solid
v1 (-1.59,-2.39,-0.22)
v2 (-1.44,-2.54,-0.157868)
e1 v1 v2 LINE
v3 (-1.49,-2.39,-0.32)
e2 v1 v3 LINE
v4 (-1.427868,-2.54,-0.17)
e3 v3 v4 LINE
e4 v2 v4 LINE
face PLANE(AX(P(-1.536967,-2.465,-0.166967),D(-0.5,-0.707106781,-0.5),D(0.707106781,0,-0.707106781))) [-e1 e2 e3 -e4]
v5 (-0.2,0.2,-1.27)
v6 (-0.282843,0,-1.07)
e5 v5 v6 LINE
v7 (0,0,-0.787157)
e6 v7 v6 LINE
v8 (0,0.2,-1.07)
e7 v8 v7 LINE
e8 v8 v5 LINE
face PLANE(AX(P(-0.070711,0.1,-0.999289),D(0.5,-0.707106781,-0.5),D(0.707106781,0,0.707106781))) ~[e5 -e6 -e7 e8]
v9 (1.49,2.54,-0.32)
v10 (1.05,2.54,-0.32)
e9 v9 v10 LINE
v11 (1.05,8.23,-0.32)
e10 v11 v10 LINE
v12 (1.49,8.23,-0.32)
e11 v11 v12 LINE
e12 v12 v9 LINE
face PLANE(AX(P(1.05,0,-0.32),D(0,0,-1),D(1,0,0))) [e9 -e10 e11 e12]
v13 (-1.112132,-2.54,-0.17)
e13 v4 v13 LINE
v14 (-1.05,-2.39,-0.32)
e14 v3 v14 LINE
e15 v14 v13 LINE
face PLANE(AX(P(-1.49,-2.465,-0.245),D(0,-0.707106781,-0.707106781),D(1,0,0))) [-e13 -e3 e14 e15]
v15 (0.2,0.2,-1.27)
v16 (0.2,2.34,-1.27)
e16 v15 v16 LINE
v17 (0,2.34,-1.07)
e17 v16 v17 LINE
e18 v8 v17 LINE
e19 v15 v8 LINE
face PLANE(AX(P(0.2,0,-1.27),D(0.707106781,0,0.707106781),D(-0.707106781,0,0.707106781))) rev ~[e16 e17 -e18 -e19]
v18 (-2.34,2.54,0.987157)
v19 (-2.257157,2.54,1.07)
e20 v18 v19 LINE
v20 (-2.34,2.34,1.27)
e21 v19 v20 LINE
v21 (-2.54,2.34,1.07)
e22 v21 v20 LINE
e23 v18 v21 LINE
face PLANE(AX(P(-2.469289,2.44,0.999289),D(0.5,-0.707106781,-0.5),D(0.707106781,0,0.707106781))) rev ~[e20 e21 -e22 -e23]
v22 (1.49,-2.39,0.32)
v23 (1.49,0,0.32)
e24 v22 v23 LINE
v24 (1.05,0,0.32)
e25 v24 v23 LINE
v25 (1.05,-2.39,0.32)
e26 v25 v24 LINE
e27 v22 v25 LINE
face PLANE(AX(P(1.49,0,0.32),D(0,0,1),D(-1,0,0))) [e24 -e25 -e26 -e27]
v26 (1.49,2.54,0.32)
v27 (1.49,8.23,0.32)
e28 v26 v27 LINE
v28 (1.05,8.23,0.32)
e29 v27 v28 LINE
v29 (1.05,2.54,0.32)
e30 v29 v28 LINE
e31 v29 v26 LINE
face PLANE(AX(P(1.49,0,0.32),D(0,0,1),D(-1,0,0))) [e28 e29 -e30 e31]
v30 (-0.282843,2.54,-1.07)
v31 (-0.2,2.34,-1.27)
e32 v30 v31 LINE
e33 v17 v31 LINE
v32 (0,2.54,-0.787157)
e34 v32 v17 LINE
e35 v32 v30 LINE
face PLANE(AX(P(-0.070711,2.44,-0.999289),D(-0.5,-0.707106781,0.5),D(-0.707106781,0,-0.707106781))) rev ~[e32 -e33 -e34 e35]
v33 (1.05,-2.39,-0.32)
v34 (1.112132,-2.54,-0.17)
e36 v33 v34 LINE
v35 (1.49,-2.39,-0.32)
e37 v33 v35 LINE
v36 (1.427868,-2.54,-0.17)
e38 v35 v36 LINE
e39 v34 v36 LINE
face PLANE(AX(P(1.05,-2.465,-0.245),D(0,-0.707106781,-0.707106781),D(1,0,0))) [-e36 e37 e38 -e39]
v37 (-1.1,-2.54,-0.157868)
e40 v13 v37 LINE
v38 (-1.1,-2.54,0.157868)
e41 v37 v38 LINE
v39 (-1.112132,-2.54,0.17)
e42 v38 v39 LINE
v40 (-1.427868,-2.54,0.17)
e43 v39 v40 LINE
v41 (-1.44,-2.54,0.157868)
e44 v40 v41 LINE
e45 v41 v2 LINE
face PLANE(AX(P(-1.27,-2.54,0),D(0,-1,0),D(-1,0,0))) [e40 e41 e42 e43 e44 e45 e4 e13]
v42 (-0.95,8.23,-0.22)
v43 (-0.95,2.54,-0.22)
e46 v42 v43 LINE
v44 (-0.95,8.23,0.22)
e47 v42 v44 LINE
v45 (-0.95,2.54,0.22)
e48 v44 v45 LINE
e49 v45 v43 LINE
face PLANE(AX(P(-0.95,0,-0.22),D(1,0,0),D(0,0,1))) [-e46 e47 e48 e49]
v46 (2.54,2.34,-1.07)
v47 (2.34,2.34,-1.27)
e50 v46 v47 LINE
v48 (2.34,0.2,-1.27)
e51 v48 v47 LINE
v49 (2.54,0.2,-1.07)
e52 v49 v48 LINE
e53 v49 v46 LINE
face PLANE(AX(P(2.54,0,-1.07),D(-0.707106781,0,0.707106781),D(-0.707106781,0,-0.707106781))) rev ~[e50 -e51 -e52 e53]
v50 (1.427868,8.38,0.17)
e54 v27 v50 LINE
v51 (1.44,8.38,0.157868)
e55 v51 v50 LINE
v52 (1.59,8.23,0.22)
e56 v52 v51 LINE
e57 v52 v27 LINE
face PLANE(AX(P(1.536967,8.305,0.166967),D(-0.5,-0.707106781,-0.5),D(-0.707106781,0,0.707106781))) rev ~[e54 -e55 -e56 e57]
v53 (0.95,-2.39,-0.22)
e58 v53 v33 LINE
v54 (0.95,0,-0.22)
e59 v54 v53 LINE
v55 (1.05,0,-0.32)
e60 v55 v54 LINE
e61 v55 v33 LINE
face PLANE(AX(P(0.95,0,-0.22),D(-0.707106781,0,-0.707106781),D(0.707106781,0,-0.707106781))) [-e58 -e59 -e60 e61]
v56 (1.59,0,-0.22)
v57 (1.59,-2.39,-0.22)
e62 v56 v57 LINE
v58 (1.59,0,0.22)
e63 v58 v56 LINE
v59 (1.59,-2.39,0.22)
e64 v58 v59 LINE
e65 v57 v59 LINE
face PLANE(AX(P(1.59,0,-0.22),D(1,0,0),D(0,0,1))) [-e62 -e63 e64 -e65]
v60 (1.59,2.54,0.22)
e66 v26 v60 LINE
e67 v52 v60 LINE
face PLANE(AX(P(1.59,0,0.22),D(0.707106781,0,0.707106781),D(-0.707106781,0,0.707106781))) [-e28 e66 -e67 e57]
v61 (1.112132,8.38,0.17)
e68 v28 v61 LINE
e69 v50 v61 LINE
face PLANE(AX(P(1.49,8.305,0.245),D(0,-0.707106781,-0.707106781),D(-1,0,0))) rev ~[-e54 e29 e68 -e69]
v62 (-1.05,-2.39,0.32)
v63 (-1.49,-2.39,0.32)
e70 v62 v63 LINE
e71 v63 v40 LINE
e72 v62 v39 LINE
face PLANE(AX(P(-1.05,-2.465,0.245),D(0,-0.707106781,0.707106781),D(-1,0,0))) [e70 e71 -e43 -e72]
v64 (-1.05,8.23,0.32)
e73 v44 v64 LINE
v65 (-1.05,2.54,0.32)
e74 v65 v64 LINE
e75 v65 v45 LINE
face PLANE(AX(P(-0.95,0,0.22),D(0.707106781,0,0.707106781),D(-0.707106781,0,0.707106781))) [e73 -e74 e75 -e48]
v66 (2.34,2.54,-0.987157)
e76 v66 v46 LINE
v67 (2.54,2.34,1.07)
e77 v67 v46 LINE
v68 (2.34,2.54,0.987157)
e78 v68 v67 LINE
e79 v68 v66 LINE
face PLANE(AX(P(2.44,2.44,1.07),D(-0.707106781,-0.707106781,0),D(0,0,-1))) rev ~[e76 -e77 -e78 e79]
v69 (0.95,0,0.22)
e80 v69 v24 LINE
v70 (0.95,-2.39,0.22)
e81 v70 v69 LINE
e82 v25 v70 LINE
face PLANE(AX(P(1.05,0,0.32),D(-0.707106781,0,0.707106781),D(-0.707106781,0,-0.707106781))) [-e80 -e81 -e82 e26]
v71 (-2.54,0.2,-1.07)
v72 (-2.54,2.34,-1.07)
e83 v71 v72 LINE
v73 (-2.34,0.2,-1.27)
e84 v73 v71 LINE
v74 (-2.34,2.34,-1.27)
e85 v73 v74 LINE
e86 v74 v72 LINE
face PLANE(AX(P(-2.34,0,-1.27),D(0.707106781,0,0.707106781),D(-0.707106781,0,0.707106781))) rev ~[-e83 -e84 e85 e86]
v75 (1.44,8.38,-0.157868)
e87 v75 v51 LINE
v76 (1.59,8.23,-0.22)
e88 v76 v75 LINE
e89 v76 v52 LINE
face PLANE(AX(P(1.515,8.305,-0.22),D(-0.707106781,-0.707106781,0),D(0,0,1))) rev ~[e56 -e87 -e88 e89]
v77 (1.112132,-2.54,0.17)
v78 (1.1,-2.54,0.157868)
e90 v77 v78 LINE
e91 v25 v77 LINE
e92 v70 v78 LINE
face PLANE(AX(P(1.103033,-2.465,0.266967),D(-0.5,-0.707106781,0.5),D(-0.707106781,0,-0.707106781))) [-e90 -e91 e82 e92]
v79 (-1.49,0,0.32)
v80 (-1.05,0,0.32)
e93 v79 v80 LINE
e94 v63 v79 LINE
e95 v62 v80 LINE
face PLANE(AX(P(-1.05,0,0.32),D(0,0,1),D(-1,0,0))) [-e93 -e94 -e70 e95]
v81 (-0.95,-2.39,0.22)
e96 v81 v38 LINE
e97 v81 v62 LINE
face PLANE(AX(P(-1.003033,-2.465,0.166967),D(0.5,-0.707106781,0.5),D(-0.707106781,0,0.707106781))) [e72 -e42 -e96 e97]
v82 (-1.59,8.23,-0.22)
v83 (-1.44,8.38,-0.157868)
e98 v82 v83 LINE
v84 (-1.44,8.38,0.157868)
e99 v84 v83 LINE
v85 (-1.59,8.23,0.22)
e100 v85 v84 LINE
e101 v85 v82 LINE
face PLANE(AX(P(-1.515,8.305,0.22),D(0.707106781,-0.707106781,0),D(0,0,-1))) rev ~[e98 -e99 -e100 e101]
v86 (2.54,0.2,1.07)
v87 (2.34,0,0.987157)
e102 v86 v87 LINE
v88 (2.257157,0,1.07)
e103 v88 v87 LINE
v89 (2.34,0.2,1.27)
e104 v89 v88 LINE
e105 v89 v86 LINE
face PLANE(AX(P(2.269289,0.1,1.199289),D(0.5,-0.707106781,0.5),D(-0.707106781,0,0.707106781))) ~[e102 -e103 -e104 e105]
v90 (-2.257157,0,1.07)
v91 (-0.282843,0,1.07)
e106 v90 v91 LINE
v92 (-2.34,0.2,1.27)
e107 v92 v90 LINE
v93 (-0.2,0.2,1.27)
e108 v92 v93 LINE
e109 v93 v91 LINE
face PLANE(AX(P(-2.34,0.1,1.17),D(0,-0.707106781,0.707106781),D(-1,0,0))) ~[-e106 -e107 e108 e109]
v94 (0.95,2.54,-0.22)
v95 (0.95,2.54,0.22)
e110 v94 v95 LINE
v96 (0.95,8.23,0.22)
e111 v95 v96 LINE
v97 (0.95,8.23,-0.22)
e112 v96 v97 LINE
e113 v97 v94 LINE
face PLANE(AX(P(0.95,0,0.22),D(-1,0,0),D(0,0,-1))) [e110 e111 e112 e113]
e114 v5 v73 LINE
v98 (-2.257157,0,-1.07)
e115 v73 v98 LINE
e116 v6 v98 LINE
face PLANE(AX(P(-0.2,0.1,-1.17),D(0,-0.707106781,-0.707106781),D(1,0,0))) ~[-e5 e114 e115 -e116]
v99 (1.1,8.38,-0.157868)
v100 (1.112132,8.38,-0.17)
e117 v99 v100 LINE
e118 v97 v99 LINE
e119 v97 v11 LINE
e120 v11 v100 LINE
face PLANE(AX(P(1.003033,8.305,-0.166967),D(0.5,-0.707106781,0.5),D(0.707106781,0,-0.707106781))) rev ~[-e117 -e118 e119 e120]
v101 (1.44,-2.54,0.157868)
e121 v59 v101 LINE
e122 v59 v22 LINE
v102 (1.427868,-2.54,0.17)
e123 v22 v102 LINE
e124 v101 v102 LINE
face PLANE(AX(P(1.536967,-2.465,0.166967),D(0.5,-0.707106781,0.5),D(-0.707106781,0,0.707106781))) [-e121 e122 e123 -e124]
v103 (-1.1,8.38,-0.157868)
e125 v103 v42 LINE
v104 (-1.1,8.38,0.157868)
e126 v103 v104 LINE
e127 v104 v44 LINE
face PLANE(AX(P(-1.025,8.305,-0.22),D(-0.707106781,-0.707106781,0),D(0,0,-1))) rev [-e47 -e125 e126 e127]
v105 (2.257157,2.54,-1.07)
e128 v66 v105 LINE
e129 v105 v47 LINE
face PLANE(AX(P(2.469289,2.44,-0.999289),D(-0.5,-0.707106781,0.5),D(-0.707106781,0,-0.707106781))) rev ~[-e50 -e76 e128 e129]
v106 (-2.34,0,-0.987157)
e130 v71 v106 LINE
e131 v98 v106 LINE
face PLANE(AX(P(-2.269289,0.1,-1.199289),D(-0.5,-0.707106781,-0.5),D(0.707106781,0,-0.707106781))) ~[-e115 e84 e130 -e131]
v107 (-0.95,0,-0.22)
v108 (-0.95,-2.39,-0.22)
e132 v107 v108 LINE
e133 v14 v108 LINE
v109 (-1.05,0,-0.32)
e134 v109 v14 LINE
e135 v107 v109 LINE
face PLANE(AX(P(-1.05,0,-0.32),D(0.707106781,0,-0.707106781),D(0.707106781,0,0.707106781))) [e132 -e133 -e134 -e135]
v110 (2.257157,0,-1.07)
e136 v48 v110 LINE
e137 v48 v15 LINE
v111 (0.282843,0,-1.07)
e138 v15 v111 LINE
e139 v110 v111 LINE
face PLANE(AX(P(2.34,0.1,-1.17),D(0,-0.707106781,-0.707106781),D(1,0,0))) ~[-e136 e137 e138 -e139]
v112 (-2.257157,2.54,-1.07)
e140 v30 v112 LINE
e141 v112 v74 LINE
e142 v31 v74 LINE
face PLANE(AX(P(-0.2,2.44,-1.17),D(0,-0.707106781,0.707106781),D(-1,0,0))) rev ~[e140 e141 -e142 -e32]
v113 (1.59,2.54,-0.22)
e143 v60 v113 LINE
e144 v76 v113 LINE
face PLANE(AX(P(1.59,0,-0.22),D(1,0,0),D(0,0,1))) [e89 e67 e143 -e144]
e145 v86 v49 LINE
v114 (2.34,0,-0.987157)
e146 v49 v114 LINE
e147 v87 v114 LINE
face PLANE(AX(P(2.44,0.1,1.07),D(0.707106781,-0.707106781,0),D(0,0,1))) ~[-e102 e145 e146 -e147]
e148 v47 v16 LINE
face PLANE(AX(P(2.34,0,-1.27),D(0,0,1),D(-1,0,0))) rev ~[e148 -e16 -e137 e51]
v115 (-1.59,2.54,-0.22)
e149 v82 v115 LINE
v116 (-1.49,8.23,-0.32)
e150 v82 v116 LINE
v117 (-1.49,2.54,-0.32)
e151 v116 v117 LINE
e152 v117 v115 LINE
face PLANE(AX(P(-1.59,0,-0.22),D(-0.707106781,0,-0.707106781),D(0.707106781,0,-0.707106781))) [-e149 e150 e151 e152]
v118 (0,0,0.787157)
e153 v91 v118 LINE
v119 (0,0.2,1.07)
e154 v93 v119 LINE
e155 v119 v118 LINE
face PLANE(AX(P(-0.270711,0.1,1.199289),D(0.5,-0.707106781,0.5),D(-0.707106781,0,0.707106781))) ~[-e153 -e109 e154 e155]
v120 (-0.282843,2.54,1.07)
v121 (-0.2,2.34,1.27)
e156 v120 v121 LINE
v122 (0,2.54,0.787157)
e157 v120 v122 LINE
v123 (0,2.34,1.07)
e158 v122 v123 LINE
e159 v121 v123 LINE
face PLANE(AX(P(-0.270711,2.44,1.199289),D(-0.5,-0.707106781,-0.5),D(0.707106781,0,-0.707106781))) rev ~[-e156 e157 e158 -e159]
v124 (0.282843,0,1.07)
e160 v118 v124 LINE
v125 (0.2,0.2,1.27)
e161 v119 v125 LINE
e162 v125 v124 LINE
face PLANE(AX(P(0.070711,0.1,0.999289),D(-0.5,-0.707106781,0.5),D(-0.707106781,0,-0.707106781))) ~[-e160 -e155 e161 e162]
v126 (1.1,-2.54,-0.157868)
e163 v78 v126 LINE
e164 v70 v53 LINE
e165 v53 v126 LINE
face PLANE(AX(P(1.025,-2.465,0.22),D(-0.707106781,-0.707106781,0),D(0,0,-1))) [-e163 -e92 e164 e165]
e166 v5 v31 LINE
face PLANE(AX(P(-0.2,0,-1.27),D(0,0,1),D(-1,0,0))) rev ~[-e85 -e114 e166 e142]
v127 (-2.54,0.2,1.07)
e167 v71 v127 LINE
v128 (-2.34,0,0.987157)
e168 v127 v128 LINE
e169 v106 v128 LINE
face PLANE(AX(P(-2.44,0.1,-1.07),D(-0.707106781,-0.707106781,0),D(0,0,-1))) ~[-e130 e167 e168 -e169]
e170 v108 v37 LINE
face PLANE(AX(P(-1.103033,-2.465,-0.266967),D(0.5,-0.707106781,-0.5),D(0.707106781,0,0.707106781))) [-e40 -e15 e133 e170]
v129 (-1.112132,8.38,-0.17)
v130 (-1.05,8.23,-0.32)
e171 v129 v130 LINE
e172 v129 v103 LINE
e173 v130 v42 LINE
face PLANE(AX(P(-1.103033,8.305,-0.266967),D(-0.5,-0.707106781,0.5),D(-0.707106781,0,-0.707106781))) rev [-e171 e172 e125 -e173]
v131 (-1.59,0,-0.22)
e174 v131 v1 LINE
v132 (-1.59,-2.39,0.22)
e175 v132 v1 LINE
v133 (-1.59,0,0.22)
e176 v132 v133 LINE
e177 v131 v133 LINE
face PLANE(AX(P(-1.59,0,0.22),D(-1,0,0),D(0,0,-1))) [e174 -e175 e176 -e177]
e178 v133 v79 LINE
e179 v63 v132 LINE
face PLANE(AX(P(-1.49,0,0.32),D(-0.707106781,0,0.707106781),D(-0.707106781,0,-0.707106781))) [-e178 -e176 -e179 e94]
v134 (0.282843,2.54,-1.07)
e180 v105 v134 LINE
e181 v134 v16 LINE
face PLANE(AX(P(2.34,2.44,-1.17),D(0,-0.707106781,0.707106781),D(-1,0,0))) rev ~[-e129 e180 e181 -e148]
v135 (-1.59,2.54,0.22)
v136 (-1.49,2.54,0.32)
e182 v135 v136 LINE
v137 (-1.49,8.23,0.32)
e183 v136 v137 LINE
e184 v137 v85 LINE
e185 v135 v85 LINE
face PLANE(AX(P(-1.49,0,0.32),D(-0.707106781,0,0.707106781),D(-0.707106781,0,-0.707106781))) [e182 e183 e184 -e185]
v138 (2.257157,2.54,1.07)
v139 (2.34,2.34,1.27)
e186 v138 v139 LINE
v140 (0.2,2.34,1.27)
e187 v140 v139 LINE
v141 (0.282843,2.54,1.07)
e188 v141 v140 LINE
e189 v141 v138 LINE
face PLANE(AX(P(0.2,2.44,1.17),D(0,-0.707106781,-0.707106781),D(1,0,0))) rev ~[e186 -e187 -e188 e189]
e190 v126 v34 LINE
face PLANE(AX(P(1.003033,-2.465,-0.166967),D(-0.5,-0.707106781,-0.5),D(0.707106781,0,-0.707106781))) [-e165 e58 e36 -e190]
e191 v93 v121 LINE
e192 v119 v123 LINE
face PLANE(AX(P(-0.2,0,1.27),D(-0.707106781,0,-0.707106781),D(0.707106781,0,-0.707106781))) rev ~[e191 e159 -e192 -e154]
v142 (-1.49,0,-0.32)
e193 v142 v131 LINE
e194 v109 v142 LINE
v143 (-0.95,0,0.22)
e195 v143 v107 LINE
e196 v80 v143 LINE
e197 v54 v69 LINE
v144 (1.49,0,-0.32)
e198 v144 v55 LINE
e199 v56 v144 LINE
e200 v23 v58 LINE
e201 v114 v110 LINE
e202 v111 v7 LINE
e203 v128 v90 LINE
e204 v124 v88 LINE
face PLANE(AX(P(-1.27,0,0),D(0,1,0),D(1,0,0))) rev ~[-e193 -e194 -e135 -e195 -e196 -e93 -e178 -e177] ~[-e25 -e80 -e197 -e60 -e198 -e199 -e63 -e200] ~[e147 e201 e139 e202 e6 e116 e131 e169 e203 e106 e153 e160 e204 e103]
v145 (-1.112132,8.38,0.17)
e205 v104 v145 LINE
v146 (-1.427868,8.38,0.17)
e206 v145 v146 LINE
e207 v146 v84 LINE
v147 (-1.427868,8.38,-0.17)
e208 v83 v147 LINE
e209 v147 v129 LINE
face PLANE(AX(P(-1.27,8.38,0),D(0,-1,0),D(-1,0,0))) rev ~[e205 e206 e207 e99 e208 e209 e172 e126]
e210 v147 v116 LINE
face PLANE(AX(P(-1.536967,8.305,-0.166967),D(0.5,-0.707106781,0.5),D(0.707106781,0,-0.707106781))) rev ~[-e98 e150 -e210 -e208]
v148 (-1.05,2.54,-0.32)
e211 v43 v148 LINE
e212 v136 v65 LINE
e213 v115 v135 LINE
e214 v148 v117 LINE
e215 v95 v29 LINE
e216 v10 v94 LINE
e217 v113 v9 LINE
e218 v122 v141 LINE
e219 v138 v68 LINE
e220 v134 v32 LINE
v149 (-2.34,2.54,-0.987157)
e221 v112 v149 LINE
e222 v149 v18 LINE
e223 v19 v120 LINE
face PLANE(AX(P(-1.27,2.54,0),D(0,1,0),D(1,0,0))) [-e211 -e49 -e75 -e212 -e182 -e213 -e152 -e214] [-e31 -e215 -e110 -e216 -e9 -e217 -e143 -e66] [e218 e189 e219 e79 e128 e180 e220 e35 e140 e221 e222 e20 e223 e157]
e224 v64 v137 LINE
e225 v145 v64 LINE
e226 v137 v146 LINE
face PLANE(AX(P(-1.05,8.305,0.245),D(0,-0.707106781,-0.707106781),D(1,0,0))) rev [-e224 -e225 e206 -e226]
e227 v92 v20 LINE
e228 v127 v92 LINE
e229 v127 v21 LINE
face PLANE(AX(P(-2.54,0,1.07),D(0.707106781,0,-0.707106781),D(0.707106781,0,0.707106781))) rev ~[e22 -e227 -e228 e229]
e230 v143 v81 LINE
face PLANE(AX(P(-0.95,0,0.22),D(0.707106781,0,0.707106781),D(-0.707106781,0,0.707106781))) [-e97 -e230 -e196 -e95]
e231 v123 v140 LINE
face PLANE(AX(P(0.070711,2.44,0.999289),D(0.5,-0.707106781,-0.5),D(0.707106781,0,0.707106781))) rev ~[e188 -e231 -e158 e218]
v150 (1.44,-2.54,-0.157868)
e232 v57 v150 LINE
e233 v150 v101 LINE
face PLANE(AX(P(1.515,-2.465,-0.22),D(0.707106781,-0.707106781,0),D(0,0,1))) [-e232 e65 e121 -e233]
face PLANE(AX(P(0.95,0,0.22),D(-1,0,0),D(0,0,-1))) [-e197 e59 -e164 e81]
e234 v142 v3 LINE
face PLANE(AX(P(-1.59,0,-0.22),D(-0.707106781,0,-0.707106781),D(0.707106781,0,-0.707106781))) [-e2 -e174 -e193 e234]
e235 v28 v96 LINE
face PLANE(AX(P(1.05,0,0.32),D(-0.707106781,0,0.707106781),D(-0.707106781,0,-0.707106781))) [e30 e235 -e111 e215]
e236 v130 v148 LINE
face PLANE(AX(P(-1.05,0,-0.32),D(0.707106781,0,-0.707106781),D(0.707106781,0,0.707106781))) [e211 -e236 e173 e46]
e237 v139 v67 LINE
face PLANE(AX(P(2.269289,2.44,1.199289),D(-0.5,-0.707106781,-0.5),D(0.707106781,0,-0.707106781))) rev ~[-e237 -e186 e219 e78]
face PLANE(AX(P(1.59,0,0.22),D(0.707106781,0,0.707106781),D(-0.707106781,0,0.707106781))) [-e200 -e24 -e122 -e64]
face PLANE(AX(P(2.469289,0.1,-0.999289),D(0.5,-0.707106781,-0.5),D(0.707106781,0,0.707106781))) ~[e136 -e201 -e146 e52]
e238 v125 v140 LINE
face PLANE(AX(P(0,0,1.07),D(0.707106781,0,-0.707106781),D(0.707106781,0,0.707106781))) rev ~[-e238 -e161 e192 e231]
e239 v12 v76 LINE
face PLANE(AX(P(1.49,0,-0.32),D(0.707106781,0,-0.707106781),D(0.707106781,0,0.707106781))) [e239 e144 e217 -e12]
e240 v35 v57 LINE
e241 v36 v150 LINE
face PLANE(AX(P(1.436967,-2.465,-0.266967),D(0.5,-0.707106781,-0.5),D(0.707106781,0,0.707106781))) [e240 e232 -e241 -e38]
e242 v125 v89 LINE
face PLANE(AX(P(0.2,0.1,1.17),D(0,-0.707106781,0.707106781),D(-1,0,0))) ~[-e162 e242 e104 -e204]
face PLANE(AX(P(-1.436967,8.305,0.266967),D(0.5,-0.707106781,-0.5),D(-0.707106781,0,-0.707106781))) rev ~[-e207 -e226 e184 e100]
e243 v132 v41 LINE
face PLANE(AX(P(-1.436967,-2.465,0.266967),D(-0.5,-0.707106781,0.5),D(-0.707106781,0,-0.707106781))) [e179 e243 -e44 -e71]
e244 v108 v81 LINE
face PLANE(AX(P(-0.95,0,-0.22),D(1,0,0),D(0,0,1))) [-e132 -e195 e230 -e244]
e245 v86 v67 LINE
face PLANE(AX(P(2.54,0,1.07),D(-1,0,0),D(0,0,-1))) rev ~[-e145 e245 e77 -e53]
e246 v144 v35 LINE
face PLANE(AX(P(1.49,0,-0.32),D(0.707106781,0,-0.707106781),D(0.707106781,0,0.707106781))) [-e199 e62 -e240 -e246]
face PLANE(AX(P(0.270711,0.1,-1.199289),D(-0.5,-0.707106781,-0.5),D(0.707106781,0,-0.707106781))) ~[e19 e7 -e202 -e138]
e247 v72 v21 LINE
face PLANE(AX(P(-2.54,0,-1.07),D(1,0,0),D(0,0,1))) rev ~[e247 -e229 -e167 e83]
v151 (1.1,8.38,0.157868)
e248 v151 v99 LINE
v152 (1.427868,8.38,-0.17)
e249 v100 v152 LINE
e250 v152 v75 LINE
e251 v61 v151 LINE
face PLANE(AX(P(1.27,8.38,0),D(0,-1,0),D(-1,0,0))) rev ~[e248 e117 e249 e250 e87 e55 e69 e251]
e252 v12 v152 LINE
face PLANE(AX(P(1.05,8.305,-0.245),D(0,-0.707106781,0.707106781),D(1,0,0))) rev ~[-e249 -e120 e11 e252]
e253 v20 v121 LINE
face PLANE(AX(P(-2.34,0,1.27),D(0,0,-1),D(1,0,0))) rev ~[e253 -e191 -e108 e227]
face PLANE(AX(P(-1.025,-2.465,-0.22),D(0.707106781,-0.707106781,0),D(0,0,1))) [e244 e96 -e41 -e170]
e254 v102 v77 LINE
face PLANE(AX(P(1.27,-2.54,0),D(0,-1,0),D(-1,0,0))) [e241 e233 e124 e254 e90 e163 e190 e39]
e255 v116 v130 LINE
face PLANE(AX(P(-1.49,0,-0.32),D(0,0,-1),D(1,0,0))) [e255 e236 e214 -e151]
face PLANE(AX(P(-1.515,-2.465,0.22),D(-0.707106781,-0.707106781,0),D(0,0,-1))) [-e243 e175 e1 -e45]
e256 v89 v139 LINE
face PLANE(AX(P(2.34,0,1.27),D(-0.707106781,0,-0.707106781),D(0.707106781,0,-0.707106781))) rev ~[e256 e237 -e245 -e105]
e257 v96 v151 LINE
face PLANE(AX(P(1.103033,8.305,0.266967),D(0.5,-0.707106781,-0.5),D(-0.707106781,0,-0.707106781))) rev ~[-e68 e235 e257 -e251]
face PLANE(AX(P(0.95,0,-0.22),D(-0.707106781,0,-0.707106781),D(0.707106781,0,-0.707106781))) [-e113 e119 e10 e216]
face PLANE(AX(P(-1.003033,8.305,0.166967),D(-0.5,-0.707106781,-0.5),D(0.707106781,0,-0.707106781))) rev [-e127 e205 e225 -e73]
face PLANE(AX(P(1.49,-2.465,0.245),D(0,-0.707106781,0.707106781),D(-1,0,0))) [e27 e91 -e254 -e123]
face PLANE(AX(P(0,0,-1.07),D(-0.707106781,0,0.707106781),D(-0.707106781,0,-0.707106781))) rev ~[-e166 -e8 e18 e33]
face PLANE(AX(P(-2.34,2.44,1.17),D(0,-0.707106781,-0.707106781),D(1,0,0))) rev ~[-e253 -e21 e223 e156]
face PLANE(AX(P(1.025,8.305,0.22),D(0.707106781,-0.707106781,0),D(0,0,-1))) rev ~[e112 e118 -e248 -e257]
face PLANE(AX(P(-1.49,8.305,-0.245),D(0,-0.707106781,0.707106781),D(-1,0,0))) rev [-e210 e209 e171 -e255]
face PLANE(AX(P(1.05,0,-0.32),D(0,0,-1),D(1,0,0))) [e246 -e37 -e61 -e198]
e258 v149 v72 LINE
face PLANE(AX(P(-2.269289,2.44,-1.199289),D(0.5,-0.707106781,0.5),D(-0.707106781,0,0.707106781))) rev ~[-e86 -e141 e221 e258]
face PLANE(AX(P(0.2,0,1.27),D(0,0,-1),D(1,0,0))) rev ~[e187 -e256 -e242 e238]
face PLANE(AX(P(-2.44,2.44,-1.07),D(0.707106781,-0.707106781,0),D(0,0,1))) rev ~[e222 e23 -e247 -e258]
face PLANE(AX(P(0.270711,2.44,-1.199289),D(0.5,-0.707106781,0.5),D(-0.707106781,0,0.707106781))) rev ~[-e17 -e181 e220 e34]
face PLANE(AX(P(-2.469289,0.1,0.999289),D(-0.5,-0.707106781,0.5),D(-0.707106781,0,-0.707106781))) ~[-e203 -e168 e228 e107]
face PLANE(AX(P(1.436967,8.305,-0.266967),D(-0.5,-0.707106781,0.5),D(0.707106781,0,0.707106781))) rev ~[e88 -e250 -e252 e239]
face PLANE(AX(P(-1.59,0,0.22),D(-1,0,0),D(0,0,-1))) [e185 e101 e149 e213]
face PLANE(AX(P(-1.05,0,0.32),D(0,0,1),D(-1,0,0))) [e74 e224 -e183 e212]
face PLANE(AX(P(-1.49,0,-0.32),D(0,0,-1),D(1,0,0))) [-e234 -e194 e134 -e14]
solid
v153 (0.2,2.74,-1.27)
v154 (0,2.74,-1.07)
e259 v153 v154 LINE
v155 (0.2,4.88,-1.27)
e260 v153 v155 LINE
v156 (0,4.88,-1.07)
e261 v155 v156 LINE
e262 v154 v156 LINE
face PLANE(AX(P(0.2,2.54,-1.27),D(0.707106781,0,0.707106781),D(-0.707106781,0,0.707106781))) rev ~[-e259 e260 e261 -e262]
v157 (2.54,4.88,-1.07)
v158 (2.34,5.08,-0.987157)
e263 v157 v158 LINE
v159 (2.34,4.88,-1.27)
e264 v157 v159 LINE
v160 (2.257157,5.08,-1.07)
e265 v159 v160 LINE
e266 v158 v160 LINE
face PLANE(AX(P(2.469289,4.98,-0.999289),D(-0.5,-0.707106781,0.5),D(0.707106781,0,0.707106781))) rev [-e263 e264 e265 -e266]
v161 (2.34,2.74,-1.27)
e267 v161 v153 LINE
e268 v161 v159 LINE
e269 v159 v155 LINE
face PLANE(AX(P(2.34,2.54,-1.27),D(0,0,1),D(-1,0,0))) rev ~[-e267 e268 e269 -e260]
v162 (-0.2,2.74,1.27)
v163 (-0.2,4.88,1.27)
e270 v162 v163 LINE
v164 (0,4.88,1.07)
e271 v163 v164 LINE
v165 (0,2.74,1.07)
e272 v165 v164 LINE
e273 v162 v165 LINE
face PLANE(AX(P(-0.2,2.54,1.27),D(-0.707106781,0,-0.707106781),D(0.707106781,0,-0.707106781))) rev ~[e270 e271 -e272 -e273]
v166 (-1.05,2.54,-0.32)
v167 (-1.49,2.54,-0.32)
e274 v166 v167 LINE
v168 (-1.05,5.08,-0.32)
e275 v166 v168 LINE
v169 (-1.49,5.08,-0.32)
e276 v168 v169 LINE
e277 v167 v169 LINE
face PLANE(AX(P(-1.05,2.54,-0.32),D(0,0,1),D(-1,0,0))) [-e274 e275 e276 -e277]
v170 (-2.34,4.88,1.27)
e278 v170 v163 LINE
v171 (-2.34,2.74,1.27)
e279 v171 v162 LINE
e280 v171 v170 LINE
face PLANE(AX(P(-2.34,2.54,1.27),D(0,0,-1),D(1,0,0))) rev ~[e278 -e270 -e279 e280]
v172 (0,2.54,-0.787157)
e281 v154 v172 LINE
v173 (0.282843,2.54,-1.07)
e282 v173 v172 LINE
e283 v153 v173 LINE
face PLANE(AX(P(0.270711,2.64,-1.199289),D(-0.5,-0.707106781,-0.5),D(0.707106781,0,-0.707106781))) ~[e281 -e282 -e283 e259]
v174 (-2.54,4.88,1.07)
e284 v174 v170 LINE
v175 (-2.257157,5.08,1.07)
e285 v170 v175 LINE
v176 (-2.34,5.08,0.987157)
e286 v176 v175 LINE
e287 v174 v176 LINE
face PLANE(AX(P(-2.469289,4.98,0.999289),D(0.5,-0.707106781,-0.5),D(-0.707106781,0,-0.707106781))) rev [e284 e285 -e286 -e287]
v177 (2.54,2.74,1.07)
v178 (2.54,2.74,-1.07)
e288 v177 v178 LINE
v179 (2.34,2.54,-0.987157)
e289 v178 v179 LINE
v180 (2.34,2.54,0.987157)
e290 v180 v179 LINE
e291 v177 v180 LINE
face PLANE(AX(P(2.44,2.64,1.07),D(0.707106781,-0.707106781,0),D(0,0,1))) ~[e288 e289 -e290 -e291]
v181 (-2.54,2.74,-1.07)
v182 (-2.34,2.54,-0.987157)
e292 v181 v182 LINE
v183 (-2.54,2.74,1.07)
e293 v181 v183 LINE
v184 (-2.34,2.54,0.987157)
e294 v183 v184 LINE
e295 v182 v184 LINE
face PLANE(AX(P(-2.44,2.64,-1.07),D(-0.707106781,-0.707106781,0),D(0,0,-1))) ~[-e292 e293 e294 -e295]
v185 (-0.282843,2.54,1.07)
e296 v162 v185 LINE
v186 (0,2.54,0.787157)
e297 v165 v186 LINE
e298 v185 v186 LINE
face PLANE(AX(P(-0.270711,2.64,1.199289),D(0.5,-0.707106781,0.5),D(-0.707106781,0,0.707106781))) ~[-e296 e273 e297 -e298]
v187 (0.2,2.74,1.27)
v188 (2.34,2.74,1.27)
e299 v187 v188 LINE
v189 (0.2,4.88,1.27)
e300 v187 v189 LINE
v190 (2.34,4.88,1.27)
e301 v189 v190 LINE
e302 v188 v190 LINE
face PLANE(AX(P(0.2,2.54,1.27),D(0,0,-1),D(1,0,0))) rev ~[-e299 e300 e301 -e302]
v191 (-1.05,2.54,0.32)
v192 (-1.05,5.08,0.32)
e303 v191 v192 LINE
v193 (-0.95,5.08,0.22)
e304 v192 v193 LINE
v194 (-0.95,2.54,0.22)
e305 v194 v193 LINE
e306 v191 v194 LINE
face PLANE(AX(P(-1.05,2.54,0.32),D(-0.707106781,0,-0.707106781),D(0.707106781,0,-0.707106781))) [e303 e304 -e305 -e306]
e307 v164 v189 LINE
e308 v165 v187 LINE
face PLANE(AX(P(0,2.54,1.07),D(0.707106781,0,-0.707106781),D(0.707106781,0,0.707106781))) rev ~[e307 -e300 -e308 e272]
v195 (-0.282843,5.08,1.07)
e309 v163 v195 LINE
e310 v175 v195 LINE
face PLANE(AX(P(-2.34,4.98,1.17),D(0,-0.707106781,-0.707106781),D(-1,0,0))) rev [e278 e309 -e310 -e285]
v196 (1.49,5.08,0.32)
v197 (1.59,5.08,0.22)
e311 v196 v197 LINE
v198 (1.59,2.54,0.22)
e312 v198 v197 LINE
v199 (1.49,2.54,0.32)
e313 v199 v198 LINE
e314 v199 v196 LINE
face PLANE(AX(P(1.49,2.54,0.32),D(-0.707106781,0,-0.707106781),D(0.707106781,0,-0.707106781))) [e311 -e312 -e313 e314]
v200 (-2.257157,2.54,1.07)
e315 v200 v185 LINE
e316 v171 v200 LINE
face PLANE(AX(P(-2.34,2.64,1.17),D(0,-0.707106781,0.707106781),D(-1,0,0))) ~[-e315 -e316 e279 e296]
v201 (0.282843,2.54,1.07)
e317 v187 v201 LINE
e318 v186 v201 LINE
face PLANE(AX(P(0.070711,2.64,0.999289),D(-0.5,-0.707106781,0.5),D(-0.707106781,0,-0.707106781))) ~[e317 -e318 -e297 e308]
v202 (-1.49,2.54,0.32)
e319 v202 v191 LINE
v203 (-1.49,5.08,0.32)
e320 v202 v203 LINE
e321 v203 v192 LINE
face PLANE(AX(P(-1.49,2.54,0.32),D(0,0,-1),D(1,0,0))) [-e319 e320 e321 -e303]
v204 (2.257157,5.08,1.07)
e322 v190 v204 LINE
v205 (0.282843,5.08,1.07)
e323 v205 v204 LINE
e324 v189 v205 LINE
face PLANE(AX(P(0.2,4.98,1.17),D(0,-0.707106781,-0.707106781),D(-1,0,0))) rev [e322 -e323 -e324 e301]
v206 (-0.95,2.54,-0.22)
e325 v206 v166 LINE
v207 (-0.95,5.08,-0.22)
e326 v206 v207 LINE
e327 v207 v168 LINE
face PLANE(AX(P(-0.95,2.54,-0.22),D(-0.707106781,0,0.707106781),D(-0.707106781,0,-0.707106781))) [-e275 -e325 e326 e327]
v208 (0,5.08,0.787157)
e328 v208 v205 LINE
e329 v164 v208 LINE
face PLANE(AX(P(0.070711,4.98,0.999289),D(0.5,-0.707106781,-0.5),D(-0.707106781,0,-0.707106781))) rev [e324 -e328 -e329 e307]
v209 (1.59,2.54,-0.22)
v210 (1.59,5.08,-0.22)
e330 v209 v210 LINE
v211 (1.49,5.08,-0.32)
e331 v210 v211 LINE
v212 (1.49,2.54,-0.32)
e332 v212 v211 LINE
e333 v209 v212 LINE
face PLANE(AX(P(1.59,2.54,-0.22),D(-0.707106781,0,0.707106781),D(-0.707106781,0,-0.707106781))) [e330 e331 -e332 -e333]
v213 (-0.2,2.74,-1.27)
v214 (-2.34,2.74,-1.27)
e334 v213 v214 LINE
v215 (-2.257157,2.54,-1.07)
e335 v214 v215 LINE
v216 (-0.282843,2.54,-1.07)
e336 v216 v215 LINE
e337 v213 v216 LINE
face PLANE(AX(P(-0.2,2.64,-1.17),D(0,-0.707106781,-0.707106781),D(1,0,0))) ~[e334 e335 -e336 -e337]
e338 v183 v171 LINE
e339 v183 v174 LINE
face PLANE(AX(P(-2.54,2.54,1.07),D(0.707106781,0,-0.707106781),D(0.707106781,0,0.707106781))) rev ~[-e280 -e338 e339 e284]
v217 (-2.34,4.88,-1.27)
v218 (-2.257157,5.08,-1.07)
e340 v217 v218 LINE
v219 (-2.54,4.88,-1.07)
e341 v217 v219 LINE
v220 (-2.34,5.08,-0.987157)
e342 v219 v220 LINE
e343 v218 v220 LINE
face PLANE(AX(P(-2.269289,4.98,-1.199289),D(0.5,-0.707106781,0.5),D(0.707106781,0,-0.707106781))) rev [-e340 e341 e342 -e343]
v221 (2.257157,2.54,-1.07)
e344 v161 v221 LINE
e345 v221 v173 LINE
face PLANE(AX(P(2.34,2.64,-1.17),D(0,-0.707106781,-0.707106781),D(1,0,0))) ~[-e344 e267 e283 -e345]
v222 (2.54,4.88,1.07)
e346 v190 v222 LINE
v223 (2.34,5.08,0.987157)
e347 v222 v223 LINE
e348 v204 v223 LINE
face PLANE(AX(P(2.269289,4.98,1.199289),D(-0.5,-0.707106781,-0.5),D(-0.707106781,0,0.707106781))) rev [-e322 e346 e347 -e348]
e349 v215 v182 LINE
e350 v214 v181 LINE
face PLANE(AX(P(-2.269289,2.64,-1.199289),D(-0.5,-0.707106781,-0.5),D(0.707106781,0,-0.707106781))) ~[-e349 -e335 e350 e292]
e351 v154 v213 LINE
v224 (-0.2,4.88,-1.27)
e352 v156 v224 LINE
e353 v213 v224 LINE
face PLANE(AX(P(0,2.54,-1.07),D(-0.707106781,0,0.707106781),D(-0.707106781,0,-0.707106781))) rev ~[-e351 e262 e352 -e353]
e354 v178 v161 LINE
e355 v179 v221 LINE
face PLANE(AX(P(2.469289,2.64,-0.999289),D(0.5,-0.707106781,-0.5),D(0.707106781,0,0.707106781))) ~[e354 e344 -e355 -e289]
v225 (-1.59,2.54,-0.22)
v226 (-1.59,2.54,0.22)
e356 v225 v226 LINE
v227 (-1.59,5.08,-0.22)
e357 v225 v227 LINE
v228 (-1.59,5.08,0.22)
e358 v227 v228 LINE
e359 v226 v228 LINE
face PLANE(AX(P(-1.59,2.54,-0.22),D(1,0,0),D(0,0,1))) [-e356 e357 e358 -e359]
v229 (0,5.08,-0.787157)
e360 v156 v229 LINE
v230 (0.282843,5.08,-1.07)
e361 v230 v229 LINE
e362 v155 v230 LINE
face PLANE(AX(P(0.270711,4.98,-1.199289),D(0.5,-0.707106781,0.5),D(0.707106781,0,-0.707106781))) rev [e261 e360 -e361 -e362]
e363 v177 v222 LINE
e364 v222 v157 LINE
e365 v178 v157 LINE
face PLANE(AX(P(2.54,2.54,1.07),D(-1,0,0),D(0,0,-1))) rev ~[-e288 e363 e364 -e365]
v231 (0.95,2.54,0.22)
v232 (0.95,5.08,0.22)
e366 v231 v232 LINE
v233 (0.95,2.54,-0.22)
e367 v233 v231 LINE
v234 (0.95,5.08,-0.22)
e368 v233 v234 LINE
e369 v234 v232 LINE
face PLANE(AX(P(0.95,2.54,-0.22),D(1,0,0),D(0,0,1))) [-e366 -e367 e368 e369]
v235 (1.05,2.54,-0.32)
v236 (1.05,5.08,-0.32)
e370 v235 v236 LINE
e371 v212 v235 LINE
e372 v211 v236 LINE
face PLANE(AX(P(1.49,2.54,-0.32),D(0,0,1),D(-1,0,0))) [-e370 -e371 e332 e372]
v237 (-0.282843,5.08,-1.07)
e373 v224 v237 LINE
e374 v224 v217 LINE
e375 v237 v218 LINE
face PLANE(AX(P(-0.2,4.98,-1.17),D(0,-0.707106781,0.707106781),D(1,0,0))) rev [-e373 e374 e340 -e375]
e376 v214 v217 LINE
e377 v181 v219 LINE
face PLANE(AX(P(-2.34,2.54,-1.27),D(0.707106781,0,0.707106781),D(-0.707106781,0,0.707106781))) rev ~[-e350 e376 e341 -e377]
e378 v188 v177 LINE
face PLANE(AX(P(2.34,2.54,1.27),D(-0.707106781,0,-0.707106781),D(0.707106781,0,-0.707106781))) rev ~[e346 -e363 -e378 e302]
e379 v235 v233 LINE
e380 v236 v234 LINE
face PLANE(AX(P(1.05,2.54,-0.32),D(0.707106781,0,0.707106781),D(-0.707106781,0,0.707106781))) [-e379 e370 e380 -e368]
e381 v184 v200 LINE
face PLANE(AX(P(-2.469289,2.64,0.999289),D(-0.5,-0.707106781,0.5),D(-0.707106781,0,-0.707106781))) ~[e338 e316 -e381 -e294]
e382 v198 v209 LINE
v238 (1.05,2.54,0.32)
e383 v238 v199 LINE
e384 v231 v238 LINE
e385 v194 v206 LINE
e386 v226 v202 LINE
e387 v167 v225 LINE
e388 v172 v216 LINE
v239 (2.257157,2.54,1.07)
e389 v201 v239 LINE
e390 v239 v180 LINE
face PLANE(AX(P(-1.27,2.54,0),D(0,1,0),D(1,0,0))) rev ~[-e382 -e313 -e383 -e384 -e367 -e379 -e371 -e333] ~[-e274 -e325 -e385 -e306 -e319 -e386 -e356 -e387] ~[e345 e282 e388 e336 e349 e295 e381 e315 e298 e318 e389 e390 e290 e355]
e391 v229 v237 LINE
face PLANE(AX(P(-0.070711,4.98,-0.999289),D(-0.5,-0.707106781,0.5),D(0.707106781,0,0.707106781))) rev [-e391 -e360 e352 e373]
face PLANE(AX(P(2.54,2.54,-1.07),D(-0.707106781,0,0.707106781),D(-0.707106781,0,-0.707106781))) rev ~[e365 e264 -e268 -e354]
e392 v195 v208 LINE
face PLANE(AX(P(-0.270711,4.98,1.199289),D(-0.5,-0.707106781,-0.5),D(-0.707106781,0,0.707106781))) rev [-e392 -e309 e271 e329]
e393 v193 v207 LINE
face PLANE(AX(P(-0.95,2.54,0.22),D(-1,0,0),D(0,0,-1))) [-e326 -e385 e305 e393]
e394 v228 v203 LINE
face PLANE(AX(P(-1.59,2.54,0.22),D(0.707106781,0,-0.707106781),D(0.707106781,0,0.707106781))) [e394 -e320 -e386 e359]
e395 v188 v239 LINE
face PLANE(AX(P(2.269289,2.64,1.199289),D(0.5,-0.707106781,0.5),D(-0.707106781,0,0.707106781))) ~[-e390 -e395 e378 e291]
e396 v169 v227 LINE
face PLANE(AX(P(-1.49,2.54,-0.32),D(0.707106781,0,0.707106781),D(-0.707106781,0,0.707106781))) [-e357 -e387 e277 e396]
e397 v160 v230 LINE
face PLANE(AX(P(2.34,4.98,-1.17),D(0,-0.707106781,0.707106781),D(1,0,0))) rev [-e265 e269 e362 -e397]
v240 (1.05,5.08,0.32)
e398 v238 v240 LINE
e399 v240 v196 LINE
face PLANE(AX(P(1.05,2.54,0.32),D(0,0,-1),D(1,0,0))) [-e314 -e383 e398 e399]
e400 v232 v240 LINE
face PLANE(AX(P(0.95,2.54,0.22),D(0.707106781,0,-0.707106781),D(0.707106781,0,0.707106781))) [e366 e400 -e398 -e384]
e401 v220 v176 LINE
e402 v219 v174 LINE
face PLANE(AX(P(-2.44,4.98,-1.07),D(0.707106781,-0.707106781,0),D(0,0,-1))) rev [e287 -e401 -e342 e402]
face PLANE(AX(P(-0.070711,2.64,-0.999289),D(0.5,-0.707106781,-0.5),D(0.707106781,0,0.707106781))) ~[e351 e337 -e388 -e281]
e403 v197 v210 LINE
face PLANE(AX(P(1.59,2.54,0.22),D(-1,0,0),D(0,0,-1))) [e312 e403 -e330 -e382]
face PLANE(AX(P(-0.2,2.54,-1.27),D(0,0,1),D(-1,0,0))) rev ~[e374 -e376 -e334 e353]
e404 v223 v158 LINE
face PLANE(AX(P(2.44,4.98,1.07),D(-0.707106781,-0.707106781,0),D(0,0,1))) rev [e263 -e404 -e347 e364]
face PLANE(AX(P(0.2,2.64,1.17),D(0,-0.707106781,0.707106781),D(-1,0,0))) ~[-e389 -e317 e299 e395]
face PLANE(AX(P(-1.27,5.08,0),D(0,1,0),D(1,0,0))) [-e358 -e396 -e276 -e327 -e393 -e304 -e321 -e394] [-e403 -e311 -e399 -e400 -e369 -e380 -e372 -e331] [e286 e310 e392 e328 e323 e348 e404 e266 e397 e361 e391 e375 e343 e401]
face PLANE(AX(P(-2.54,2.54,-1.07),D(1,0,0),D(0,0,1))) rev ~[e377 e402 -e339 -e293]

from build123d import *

# Parameters (mm, degrees)
EXTRUDE_1_DEPTH   = 2.54
EXTRUDE_1_2_DEPTH = 2.54
EXTRUDE_2_DEPTH   = 8.38
EXTRUDE_3_DEPTH   = 2.54
EXTRUDE_START     = 2.54
EXTRUDE_4_DEPTH   = 2.54
CHAMFER_1_SIZE    = 0.15
CHAMFER_2_SIZE    = 0.2
CHAMFER_3_SIZE    = 0.2


with BuildPart() as part:
    # Эскиз1 → Бобышка-Вытянуть1 (new body)
    with BuildSketch(Plane(origin=(0, 0, 0), x_dir=(1, 0, 0), z_dir=(0, 1, 0))):
        Polygon((-1.49, 0.32), (-1.59, 0.22), (-1.59, -0.22), (-1.49, -0.32), (-1.05, -0.32), (-0.95, -0.22), (-0.95, 0.22), (-1.05, 0.32), align=None)
    extrude(amount=-EXTRUDE_1_DEPTH)



with BuildPart() as body_2:
    # Эскиз1 → Extrude 1 2 (new body)
    with BuildSketch(Plane(origin=(0, 0, 0), x_dir=(1, 0, 0), z_dir=(0, 1, 0))):
        Polygon((1.05, 0.32), (0.95, 0.22), (0.95, -0.22), (1.05, -0.32), (1.49, -0.32), (1.59, -0.22), (1.59, 0.22), (1.49, 0.32), align=None)
    extrude(amount=-EXTRUDE_1_2_DEPTH)


with BuildPart() as part_1:
    add(part.part)

    add(body_2.part)  # Бобышка-Вытянуть2 merges body 2
    # Эскиз1<3> → Бобышка-Вытянуть2 (add)
    with BuildSketch(Plane(origin=(0, 0, 0), x_dir=(1, 0, 0), z_dir=(0, 1, 0))):
        Polygon((-1.49, 0.32), (-1.59, 0.22), (-1.59, -0.22), (-1.49, -0.32), (-1.05, -0.32), (-0.95, -0.22), (-0.95, 0.22), (-1.05, 0.32), align=None)
        Polygon((1.05, 0.32), (0.95, 0.22), (0.95, -0.22), (1.05, -0.32), (1.49, -0.32), (1.59, -0.22), (1.59, 0.22), (1.49, 0.32), align=None)
    extrude(amount=EXTRUDE_2_DEPTH)

    # Эскиз1<4> → Бобышка-Вытянуть3 (add)
    with BuildSketch(Plane(origin=(0, 0, 0), x_dir=(1, 0, 0), z_dir=(0, 1, 0))):
        Polygon((-0.2, 1.27), (-2.34, 1.27), (-2.54, 1.07), (-2.54, -1.07), (-2.34, -1.27), (-0.2, -1.27), (0, -1.07), (0.2, -1.27), (2.34, -1.27), (2.54, -1.07), (2.54, 1.07), (2.34, 1.27), (0.2, 1.27), (0, 1.07), align=None)
        Polygon((-1.59, -0.22), (-1.59, 0.22), (-1.49, 0.32), (-1.05, 0.32), (-0.95, 0.22), (-0.95, -0.22), (-1.05, -0.32), (-1.49, -0.32), align=None, mode=Mode.SUBTRACT)
        Polygon((0.95, 0.22), (1.05, 0.32), (1.49, 0.32), (1.59, 0.22), (1.59, -0.22), (1.49, -0.32), (1.05, -0.32), (0.95, -0.22), align=None, mode=Mode.SUBTRACT)
    extrude(amount=EXTRUDE_3_DEPTH)

    # Фаска1
    chamfer_1_edges = [part_1.edges().sort_by_distance(p)[0] for p in [
        (-1.54, -2.54, 0.27),
        (-1.27, -2.54, 0.32),
        (-1, -2.54, 0.27),
        (-0.95, -2.54, 0),
        (-1, -2.54, -0.27),
        (-1.27, -2.54, -0.32),
        (-1.54, -2.54, -0.27),
        (-1.59, -2.54, 0),
        (1, -2.54, 0.27),
        (1.27, -2.54, 0.32),
        (1.54, -2.54, 0.27),
        (1.59, -2.54, 0),
        (1.54, -2.54, -0.27),
        (1.27, -2.54, -0.32),
        (1, -2.54, -0.27),
        (0.95, -2.54, 0),
        (1, 8.38, -0.27),
        (1.27, 8.38, -0.32),
        (1.54, 8.38, -0.27),
        (1.59, 8.38, 0),
        (1.54, 8.38, 0.27),
        (1.27, 8.38, 0.32),
        (1, 8.38, 0.27),
        (0.95, 8.38, 0),
        (-1.54, 8.38, -0.27),
        (-1.27, 8.38, -0.32),
        (-1, 8.38, -0.27),
        (-0.95, 8.38, 0),
        (-1, 8.38, 0.27),
        (-1.27, 8.38, 0.32),
        (-1.54, 8.38, 0.27),
        (-1.59, 8.38, 0),
    ]]
    chamfer(chamfer_1_edges, length=CHAMFER_1_SIZE)

    # Фаска2
    chamfer_2_edges = [part_1.edges().sort_by_distance(p)[0] for p in [
        (-2.44, 2.54, -1.17),
        (-1.27, 2.54, -1.27),
        (-0.1, 2.54, -1.17),
        (0.1, 2.54, -1.17),
        (1.27, 2.54, -1.27),
        (2.44, 2.54, -1.17),
        (2.54, 2.54, 0),
        (2.44, 2.54, 1.17),
        (1.27, 2.54, 1.27),
        (0.1, 2.54, 1.17),
        (-0.1, 2.54, 1.17),
        (-1.27, 2.54, 1.27),
        (-2.44, 2.54, 1.17),
        (-2.54, 2.54, 0),
        (-2.44, 0, 1.17),
        (-1.27, 0, 1.27),
        (-0.1, 0, 1.17),
        (0.1, 0, 1.17),
        (1.27, 0, 1.27),
        (2.44, 0, 1.17),
        (2.54, 0, 0),
        (2.44, 0, -1.17),
        (1.27, 0, -1.27),
        (0.1, 0, -1.17),
        (-0.1, 0, -1.17),
        (-1.27, 0, -1.27),
        (-2.44, 0, -1.17),
        (-2.54, 0, 0),
    ]]
    chamfer(chamfer_2_edges, length=CHAMFER_2_SIZE)


with BuildPart() as body_2_2:
    # Эскиз1<5> → Бобышка-Вытянуть4 (new body)
    with BuildSketch(Plane(origin=(0, 0, 0), x_dir=(1, 0, 0), z_dir=(0, 1, 0)).offset(EXTRUDE_START)):
        Polygon((-0.2, 1.27), (-2.34, 1.27), (-2.54, 1.07), (-2.54, -1.07), (-2.34, -1.27), (-0.2, -1.27), (0, -1.07), (0.2, -1.27), (2.34, -1.27), (2.54, -1.07), (2.54, 1.07), (2.34, 1.27), (0.2, 1.27), (0, 1.07), align=None)
        Polygon((-1.59, -0.22), (-1.59, 0.22), (-1.49, 0.32), (-1.05, 0.32), (-0.95, 0.22), (-0.95, -0.22), (-1.05, -0.32), (-1.49, -0.32), align=None, mode=Mode.SUBTRACT)
        Polygon((0.95, 0.22), (1.05, 0.32), (1.49, 0.32), (1.59, 0.22), (1.59, -0.22), (1.49, -0.32), (1.05, -0.32), (0.95, -0.22), align=None, mode=Mode.SUBTRACT)
    extrude(amount=EXTRUDE_4_DEPTH)

    # Фаска3
    chamfer_3_edges = [body_2_2.edges().sort_by_distance(p)[0] for p in [
        (-2.44, 5.08, -1.17),
        (-1.27, 5.08, -1.27),
        (-0.1, 5.08, -1.17),
        (0.1, 5.08, -1.17),
        (1.27, 5.08, -1.27),
        (2.44, 5.08, -1.17),
        (2.54, 5.08, 0),
        (2.44, 5.08, 1.17),
        (1.27, 5.08, 1.27),
        (0.1, 5.08, 1.17),
        (-0.1, 5.08, 1.17),
        (-1.27, 5.08, 1.27),
        (-2.44, 5.08, 1.17),
        (-2.54, 5.08, 0),
        (-2.44, 2.54, 1.17),
        (-1.27, 2.54, 1.27),
        (-0.1, 2.54, 1.17),
        (0.1, 2.54, 1.17),
        (1.27, 2.54, 1.27),
        (2.44, 2.54, 1.17),
        (2.54, 2.54, 0),
        (2.44, 2.54, -1.17),
        (1.27, 2.54, -1.27),
        (0.1, 2.54, -1.17),
        (-0.1, 2.54, -1.17),
        (-1.27, 2.54, -1.27),
        (-2.44, 2.54, -1.17),
        (-2.54, 2.54, 0),
    ]]
    chamfer(chamfer_3_edges, length=CHAMFER_3_SIZE)


solid = Compound([part_1.part, body_2_2.part])
